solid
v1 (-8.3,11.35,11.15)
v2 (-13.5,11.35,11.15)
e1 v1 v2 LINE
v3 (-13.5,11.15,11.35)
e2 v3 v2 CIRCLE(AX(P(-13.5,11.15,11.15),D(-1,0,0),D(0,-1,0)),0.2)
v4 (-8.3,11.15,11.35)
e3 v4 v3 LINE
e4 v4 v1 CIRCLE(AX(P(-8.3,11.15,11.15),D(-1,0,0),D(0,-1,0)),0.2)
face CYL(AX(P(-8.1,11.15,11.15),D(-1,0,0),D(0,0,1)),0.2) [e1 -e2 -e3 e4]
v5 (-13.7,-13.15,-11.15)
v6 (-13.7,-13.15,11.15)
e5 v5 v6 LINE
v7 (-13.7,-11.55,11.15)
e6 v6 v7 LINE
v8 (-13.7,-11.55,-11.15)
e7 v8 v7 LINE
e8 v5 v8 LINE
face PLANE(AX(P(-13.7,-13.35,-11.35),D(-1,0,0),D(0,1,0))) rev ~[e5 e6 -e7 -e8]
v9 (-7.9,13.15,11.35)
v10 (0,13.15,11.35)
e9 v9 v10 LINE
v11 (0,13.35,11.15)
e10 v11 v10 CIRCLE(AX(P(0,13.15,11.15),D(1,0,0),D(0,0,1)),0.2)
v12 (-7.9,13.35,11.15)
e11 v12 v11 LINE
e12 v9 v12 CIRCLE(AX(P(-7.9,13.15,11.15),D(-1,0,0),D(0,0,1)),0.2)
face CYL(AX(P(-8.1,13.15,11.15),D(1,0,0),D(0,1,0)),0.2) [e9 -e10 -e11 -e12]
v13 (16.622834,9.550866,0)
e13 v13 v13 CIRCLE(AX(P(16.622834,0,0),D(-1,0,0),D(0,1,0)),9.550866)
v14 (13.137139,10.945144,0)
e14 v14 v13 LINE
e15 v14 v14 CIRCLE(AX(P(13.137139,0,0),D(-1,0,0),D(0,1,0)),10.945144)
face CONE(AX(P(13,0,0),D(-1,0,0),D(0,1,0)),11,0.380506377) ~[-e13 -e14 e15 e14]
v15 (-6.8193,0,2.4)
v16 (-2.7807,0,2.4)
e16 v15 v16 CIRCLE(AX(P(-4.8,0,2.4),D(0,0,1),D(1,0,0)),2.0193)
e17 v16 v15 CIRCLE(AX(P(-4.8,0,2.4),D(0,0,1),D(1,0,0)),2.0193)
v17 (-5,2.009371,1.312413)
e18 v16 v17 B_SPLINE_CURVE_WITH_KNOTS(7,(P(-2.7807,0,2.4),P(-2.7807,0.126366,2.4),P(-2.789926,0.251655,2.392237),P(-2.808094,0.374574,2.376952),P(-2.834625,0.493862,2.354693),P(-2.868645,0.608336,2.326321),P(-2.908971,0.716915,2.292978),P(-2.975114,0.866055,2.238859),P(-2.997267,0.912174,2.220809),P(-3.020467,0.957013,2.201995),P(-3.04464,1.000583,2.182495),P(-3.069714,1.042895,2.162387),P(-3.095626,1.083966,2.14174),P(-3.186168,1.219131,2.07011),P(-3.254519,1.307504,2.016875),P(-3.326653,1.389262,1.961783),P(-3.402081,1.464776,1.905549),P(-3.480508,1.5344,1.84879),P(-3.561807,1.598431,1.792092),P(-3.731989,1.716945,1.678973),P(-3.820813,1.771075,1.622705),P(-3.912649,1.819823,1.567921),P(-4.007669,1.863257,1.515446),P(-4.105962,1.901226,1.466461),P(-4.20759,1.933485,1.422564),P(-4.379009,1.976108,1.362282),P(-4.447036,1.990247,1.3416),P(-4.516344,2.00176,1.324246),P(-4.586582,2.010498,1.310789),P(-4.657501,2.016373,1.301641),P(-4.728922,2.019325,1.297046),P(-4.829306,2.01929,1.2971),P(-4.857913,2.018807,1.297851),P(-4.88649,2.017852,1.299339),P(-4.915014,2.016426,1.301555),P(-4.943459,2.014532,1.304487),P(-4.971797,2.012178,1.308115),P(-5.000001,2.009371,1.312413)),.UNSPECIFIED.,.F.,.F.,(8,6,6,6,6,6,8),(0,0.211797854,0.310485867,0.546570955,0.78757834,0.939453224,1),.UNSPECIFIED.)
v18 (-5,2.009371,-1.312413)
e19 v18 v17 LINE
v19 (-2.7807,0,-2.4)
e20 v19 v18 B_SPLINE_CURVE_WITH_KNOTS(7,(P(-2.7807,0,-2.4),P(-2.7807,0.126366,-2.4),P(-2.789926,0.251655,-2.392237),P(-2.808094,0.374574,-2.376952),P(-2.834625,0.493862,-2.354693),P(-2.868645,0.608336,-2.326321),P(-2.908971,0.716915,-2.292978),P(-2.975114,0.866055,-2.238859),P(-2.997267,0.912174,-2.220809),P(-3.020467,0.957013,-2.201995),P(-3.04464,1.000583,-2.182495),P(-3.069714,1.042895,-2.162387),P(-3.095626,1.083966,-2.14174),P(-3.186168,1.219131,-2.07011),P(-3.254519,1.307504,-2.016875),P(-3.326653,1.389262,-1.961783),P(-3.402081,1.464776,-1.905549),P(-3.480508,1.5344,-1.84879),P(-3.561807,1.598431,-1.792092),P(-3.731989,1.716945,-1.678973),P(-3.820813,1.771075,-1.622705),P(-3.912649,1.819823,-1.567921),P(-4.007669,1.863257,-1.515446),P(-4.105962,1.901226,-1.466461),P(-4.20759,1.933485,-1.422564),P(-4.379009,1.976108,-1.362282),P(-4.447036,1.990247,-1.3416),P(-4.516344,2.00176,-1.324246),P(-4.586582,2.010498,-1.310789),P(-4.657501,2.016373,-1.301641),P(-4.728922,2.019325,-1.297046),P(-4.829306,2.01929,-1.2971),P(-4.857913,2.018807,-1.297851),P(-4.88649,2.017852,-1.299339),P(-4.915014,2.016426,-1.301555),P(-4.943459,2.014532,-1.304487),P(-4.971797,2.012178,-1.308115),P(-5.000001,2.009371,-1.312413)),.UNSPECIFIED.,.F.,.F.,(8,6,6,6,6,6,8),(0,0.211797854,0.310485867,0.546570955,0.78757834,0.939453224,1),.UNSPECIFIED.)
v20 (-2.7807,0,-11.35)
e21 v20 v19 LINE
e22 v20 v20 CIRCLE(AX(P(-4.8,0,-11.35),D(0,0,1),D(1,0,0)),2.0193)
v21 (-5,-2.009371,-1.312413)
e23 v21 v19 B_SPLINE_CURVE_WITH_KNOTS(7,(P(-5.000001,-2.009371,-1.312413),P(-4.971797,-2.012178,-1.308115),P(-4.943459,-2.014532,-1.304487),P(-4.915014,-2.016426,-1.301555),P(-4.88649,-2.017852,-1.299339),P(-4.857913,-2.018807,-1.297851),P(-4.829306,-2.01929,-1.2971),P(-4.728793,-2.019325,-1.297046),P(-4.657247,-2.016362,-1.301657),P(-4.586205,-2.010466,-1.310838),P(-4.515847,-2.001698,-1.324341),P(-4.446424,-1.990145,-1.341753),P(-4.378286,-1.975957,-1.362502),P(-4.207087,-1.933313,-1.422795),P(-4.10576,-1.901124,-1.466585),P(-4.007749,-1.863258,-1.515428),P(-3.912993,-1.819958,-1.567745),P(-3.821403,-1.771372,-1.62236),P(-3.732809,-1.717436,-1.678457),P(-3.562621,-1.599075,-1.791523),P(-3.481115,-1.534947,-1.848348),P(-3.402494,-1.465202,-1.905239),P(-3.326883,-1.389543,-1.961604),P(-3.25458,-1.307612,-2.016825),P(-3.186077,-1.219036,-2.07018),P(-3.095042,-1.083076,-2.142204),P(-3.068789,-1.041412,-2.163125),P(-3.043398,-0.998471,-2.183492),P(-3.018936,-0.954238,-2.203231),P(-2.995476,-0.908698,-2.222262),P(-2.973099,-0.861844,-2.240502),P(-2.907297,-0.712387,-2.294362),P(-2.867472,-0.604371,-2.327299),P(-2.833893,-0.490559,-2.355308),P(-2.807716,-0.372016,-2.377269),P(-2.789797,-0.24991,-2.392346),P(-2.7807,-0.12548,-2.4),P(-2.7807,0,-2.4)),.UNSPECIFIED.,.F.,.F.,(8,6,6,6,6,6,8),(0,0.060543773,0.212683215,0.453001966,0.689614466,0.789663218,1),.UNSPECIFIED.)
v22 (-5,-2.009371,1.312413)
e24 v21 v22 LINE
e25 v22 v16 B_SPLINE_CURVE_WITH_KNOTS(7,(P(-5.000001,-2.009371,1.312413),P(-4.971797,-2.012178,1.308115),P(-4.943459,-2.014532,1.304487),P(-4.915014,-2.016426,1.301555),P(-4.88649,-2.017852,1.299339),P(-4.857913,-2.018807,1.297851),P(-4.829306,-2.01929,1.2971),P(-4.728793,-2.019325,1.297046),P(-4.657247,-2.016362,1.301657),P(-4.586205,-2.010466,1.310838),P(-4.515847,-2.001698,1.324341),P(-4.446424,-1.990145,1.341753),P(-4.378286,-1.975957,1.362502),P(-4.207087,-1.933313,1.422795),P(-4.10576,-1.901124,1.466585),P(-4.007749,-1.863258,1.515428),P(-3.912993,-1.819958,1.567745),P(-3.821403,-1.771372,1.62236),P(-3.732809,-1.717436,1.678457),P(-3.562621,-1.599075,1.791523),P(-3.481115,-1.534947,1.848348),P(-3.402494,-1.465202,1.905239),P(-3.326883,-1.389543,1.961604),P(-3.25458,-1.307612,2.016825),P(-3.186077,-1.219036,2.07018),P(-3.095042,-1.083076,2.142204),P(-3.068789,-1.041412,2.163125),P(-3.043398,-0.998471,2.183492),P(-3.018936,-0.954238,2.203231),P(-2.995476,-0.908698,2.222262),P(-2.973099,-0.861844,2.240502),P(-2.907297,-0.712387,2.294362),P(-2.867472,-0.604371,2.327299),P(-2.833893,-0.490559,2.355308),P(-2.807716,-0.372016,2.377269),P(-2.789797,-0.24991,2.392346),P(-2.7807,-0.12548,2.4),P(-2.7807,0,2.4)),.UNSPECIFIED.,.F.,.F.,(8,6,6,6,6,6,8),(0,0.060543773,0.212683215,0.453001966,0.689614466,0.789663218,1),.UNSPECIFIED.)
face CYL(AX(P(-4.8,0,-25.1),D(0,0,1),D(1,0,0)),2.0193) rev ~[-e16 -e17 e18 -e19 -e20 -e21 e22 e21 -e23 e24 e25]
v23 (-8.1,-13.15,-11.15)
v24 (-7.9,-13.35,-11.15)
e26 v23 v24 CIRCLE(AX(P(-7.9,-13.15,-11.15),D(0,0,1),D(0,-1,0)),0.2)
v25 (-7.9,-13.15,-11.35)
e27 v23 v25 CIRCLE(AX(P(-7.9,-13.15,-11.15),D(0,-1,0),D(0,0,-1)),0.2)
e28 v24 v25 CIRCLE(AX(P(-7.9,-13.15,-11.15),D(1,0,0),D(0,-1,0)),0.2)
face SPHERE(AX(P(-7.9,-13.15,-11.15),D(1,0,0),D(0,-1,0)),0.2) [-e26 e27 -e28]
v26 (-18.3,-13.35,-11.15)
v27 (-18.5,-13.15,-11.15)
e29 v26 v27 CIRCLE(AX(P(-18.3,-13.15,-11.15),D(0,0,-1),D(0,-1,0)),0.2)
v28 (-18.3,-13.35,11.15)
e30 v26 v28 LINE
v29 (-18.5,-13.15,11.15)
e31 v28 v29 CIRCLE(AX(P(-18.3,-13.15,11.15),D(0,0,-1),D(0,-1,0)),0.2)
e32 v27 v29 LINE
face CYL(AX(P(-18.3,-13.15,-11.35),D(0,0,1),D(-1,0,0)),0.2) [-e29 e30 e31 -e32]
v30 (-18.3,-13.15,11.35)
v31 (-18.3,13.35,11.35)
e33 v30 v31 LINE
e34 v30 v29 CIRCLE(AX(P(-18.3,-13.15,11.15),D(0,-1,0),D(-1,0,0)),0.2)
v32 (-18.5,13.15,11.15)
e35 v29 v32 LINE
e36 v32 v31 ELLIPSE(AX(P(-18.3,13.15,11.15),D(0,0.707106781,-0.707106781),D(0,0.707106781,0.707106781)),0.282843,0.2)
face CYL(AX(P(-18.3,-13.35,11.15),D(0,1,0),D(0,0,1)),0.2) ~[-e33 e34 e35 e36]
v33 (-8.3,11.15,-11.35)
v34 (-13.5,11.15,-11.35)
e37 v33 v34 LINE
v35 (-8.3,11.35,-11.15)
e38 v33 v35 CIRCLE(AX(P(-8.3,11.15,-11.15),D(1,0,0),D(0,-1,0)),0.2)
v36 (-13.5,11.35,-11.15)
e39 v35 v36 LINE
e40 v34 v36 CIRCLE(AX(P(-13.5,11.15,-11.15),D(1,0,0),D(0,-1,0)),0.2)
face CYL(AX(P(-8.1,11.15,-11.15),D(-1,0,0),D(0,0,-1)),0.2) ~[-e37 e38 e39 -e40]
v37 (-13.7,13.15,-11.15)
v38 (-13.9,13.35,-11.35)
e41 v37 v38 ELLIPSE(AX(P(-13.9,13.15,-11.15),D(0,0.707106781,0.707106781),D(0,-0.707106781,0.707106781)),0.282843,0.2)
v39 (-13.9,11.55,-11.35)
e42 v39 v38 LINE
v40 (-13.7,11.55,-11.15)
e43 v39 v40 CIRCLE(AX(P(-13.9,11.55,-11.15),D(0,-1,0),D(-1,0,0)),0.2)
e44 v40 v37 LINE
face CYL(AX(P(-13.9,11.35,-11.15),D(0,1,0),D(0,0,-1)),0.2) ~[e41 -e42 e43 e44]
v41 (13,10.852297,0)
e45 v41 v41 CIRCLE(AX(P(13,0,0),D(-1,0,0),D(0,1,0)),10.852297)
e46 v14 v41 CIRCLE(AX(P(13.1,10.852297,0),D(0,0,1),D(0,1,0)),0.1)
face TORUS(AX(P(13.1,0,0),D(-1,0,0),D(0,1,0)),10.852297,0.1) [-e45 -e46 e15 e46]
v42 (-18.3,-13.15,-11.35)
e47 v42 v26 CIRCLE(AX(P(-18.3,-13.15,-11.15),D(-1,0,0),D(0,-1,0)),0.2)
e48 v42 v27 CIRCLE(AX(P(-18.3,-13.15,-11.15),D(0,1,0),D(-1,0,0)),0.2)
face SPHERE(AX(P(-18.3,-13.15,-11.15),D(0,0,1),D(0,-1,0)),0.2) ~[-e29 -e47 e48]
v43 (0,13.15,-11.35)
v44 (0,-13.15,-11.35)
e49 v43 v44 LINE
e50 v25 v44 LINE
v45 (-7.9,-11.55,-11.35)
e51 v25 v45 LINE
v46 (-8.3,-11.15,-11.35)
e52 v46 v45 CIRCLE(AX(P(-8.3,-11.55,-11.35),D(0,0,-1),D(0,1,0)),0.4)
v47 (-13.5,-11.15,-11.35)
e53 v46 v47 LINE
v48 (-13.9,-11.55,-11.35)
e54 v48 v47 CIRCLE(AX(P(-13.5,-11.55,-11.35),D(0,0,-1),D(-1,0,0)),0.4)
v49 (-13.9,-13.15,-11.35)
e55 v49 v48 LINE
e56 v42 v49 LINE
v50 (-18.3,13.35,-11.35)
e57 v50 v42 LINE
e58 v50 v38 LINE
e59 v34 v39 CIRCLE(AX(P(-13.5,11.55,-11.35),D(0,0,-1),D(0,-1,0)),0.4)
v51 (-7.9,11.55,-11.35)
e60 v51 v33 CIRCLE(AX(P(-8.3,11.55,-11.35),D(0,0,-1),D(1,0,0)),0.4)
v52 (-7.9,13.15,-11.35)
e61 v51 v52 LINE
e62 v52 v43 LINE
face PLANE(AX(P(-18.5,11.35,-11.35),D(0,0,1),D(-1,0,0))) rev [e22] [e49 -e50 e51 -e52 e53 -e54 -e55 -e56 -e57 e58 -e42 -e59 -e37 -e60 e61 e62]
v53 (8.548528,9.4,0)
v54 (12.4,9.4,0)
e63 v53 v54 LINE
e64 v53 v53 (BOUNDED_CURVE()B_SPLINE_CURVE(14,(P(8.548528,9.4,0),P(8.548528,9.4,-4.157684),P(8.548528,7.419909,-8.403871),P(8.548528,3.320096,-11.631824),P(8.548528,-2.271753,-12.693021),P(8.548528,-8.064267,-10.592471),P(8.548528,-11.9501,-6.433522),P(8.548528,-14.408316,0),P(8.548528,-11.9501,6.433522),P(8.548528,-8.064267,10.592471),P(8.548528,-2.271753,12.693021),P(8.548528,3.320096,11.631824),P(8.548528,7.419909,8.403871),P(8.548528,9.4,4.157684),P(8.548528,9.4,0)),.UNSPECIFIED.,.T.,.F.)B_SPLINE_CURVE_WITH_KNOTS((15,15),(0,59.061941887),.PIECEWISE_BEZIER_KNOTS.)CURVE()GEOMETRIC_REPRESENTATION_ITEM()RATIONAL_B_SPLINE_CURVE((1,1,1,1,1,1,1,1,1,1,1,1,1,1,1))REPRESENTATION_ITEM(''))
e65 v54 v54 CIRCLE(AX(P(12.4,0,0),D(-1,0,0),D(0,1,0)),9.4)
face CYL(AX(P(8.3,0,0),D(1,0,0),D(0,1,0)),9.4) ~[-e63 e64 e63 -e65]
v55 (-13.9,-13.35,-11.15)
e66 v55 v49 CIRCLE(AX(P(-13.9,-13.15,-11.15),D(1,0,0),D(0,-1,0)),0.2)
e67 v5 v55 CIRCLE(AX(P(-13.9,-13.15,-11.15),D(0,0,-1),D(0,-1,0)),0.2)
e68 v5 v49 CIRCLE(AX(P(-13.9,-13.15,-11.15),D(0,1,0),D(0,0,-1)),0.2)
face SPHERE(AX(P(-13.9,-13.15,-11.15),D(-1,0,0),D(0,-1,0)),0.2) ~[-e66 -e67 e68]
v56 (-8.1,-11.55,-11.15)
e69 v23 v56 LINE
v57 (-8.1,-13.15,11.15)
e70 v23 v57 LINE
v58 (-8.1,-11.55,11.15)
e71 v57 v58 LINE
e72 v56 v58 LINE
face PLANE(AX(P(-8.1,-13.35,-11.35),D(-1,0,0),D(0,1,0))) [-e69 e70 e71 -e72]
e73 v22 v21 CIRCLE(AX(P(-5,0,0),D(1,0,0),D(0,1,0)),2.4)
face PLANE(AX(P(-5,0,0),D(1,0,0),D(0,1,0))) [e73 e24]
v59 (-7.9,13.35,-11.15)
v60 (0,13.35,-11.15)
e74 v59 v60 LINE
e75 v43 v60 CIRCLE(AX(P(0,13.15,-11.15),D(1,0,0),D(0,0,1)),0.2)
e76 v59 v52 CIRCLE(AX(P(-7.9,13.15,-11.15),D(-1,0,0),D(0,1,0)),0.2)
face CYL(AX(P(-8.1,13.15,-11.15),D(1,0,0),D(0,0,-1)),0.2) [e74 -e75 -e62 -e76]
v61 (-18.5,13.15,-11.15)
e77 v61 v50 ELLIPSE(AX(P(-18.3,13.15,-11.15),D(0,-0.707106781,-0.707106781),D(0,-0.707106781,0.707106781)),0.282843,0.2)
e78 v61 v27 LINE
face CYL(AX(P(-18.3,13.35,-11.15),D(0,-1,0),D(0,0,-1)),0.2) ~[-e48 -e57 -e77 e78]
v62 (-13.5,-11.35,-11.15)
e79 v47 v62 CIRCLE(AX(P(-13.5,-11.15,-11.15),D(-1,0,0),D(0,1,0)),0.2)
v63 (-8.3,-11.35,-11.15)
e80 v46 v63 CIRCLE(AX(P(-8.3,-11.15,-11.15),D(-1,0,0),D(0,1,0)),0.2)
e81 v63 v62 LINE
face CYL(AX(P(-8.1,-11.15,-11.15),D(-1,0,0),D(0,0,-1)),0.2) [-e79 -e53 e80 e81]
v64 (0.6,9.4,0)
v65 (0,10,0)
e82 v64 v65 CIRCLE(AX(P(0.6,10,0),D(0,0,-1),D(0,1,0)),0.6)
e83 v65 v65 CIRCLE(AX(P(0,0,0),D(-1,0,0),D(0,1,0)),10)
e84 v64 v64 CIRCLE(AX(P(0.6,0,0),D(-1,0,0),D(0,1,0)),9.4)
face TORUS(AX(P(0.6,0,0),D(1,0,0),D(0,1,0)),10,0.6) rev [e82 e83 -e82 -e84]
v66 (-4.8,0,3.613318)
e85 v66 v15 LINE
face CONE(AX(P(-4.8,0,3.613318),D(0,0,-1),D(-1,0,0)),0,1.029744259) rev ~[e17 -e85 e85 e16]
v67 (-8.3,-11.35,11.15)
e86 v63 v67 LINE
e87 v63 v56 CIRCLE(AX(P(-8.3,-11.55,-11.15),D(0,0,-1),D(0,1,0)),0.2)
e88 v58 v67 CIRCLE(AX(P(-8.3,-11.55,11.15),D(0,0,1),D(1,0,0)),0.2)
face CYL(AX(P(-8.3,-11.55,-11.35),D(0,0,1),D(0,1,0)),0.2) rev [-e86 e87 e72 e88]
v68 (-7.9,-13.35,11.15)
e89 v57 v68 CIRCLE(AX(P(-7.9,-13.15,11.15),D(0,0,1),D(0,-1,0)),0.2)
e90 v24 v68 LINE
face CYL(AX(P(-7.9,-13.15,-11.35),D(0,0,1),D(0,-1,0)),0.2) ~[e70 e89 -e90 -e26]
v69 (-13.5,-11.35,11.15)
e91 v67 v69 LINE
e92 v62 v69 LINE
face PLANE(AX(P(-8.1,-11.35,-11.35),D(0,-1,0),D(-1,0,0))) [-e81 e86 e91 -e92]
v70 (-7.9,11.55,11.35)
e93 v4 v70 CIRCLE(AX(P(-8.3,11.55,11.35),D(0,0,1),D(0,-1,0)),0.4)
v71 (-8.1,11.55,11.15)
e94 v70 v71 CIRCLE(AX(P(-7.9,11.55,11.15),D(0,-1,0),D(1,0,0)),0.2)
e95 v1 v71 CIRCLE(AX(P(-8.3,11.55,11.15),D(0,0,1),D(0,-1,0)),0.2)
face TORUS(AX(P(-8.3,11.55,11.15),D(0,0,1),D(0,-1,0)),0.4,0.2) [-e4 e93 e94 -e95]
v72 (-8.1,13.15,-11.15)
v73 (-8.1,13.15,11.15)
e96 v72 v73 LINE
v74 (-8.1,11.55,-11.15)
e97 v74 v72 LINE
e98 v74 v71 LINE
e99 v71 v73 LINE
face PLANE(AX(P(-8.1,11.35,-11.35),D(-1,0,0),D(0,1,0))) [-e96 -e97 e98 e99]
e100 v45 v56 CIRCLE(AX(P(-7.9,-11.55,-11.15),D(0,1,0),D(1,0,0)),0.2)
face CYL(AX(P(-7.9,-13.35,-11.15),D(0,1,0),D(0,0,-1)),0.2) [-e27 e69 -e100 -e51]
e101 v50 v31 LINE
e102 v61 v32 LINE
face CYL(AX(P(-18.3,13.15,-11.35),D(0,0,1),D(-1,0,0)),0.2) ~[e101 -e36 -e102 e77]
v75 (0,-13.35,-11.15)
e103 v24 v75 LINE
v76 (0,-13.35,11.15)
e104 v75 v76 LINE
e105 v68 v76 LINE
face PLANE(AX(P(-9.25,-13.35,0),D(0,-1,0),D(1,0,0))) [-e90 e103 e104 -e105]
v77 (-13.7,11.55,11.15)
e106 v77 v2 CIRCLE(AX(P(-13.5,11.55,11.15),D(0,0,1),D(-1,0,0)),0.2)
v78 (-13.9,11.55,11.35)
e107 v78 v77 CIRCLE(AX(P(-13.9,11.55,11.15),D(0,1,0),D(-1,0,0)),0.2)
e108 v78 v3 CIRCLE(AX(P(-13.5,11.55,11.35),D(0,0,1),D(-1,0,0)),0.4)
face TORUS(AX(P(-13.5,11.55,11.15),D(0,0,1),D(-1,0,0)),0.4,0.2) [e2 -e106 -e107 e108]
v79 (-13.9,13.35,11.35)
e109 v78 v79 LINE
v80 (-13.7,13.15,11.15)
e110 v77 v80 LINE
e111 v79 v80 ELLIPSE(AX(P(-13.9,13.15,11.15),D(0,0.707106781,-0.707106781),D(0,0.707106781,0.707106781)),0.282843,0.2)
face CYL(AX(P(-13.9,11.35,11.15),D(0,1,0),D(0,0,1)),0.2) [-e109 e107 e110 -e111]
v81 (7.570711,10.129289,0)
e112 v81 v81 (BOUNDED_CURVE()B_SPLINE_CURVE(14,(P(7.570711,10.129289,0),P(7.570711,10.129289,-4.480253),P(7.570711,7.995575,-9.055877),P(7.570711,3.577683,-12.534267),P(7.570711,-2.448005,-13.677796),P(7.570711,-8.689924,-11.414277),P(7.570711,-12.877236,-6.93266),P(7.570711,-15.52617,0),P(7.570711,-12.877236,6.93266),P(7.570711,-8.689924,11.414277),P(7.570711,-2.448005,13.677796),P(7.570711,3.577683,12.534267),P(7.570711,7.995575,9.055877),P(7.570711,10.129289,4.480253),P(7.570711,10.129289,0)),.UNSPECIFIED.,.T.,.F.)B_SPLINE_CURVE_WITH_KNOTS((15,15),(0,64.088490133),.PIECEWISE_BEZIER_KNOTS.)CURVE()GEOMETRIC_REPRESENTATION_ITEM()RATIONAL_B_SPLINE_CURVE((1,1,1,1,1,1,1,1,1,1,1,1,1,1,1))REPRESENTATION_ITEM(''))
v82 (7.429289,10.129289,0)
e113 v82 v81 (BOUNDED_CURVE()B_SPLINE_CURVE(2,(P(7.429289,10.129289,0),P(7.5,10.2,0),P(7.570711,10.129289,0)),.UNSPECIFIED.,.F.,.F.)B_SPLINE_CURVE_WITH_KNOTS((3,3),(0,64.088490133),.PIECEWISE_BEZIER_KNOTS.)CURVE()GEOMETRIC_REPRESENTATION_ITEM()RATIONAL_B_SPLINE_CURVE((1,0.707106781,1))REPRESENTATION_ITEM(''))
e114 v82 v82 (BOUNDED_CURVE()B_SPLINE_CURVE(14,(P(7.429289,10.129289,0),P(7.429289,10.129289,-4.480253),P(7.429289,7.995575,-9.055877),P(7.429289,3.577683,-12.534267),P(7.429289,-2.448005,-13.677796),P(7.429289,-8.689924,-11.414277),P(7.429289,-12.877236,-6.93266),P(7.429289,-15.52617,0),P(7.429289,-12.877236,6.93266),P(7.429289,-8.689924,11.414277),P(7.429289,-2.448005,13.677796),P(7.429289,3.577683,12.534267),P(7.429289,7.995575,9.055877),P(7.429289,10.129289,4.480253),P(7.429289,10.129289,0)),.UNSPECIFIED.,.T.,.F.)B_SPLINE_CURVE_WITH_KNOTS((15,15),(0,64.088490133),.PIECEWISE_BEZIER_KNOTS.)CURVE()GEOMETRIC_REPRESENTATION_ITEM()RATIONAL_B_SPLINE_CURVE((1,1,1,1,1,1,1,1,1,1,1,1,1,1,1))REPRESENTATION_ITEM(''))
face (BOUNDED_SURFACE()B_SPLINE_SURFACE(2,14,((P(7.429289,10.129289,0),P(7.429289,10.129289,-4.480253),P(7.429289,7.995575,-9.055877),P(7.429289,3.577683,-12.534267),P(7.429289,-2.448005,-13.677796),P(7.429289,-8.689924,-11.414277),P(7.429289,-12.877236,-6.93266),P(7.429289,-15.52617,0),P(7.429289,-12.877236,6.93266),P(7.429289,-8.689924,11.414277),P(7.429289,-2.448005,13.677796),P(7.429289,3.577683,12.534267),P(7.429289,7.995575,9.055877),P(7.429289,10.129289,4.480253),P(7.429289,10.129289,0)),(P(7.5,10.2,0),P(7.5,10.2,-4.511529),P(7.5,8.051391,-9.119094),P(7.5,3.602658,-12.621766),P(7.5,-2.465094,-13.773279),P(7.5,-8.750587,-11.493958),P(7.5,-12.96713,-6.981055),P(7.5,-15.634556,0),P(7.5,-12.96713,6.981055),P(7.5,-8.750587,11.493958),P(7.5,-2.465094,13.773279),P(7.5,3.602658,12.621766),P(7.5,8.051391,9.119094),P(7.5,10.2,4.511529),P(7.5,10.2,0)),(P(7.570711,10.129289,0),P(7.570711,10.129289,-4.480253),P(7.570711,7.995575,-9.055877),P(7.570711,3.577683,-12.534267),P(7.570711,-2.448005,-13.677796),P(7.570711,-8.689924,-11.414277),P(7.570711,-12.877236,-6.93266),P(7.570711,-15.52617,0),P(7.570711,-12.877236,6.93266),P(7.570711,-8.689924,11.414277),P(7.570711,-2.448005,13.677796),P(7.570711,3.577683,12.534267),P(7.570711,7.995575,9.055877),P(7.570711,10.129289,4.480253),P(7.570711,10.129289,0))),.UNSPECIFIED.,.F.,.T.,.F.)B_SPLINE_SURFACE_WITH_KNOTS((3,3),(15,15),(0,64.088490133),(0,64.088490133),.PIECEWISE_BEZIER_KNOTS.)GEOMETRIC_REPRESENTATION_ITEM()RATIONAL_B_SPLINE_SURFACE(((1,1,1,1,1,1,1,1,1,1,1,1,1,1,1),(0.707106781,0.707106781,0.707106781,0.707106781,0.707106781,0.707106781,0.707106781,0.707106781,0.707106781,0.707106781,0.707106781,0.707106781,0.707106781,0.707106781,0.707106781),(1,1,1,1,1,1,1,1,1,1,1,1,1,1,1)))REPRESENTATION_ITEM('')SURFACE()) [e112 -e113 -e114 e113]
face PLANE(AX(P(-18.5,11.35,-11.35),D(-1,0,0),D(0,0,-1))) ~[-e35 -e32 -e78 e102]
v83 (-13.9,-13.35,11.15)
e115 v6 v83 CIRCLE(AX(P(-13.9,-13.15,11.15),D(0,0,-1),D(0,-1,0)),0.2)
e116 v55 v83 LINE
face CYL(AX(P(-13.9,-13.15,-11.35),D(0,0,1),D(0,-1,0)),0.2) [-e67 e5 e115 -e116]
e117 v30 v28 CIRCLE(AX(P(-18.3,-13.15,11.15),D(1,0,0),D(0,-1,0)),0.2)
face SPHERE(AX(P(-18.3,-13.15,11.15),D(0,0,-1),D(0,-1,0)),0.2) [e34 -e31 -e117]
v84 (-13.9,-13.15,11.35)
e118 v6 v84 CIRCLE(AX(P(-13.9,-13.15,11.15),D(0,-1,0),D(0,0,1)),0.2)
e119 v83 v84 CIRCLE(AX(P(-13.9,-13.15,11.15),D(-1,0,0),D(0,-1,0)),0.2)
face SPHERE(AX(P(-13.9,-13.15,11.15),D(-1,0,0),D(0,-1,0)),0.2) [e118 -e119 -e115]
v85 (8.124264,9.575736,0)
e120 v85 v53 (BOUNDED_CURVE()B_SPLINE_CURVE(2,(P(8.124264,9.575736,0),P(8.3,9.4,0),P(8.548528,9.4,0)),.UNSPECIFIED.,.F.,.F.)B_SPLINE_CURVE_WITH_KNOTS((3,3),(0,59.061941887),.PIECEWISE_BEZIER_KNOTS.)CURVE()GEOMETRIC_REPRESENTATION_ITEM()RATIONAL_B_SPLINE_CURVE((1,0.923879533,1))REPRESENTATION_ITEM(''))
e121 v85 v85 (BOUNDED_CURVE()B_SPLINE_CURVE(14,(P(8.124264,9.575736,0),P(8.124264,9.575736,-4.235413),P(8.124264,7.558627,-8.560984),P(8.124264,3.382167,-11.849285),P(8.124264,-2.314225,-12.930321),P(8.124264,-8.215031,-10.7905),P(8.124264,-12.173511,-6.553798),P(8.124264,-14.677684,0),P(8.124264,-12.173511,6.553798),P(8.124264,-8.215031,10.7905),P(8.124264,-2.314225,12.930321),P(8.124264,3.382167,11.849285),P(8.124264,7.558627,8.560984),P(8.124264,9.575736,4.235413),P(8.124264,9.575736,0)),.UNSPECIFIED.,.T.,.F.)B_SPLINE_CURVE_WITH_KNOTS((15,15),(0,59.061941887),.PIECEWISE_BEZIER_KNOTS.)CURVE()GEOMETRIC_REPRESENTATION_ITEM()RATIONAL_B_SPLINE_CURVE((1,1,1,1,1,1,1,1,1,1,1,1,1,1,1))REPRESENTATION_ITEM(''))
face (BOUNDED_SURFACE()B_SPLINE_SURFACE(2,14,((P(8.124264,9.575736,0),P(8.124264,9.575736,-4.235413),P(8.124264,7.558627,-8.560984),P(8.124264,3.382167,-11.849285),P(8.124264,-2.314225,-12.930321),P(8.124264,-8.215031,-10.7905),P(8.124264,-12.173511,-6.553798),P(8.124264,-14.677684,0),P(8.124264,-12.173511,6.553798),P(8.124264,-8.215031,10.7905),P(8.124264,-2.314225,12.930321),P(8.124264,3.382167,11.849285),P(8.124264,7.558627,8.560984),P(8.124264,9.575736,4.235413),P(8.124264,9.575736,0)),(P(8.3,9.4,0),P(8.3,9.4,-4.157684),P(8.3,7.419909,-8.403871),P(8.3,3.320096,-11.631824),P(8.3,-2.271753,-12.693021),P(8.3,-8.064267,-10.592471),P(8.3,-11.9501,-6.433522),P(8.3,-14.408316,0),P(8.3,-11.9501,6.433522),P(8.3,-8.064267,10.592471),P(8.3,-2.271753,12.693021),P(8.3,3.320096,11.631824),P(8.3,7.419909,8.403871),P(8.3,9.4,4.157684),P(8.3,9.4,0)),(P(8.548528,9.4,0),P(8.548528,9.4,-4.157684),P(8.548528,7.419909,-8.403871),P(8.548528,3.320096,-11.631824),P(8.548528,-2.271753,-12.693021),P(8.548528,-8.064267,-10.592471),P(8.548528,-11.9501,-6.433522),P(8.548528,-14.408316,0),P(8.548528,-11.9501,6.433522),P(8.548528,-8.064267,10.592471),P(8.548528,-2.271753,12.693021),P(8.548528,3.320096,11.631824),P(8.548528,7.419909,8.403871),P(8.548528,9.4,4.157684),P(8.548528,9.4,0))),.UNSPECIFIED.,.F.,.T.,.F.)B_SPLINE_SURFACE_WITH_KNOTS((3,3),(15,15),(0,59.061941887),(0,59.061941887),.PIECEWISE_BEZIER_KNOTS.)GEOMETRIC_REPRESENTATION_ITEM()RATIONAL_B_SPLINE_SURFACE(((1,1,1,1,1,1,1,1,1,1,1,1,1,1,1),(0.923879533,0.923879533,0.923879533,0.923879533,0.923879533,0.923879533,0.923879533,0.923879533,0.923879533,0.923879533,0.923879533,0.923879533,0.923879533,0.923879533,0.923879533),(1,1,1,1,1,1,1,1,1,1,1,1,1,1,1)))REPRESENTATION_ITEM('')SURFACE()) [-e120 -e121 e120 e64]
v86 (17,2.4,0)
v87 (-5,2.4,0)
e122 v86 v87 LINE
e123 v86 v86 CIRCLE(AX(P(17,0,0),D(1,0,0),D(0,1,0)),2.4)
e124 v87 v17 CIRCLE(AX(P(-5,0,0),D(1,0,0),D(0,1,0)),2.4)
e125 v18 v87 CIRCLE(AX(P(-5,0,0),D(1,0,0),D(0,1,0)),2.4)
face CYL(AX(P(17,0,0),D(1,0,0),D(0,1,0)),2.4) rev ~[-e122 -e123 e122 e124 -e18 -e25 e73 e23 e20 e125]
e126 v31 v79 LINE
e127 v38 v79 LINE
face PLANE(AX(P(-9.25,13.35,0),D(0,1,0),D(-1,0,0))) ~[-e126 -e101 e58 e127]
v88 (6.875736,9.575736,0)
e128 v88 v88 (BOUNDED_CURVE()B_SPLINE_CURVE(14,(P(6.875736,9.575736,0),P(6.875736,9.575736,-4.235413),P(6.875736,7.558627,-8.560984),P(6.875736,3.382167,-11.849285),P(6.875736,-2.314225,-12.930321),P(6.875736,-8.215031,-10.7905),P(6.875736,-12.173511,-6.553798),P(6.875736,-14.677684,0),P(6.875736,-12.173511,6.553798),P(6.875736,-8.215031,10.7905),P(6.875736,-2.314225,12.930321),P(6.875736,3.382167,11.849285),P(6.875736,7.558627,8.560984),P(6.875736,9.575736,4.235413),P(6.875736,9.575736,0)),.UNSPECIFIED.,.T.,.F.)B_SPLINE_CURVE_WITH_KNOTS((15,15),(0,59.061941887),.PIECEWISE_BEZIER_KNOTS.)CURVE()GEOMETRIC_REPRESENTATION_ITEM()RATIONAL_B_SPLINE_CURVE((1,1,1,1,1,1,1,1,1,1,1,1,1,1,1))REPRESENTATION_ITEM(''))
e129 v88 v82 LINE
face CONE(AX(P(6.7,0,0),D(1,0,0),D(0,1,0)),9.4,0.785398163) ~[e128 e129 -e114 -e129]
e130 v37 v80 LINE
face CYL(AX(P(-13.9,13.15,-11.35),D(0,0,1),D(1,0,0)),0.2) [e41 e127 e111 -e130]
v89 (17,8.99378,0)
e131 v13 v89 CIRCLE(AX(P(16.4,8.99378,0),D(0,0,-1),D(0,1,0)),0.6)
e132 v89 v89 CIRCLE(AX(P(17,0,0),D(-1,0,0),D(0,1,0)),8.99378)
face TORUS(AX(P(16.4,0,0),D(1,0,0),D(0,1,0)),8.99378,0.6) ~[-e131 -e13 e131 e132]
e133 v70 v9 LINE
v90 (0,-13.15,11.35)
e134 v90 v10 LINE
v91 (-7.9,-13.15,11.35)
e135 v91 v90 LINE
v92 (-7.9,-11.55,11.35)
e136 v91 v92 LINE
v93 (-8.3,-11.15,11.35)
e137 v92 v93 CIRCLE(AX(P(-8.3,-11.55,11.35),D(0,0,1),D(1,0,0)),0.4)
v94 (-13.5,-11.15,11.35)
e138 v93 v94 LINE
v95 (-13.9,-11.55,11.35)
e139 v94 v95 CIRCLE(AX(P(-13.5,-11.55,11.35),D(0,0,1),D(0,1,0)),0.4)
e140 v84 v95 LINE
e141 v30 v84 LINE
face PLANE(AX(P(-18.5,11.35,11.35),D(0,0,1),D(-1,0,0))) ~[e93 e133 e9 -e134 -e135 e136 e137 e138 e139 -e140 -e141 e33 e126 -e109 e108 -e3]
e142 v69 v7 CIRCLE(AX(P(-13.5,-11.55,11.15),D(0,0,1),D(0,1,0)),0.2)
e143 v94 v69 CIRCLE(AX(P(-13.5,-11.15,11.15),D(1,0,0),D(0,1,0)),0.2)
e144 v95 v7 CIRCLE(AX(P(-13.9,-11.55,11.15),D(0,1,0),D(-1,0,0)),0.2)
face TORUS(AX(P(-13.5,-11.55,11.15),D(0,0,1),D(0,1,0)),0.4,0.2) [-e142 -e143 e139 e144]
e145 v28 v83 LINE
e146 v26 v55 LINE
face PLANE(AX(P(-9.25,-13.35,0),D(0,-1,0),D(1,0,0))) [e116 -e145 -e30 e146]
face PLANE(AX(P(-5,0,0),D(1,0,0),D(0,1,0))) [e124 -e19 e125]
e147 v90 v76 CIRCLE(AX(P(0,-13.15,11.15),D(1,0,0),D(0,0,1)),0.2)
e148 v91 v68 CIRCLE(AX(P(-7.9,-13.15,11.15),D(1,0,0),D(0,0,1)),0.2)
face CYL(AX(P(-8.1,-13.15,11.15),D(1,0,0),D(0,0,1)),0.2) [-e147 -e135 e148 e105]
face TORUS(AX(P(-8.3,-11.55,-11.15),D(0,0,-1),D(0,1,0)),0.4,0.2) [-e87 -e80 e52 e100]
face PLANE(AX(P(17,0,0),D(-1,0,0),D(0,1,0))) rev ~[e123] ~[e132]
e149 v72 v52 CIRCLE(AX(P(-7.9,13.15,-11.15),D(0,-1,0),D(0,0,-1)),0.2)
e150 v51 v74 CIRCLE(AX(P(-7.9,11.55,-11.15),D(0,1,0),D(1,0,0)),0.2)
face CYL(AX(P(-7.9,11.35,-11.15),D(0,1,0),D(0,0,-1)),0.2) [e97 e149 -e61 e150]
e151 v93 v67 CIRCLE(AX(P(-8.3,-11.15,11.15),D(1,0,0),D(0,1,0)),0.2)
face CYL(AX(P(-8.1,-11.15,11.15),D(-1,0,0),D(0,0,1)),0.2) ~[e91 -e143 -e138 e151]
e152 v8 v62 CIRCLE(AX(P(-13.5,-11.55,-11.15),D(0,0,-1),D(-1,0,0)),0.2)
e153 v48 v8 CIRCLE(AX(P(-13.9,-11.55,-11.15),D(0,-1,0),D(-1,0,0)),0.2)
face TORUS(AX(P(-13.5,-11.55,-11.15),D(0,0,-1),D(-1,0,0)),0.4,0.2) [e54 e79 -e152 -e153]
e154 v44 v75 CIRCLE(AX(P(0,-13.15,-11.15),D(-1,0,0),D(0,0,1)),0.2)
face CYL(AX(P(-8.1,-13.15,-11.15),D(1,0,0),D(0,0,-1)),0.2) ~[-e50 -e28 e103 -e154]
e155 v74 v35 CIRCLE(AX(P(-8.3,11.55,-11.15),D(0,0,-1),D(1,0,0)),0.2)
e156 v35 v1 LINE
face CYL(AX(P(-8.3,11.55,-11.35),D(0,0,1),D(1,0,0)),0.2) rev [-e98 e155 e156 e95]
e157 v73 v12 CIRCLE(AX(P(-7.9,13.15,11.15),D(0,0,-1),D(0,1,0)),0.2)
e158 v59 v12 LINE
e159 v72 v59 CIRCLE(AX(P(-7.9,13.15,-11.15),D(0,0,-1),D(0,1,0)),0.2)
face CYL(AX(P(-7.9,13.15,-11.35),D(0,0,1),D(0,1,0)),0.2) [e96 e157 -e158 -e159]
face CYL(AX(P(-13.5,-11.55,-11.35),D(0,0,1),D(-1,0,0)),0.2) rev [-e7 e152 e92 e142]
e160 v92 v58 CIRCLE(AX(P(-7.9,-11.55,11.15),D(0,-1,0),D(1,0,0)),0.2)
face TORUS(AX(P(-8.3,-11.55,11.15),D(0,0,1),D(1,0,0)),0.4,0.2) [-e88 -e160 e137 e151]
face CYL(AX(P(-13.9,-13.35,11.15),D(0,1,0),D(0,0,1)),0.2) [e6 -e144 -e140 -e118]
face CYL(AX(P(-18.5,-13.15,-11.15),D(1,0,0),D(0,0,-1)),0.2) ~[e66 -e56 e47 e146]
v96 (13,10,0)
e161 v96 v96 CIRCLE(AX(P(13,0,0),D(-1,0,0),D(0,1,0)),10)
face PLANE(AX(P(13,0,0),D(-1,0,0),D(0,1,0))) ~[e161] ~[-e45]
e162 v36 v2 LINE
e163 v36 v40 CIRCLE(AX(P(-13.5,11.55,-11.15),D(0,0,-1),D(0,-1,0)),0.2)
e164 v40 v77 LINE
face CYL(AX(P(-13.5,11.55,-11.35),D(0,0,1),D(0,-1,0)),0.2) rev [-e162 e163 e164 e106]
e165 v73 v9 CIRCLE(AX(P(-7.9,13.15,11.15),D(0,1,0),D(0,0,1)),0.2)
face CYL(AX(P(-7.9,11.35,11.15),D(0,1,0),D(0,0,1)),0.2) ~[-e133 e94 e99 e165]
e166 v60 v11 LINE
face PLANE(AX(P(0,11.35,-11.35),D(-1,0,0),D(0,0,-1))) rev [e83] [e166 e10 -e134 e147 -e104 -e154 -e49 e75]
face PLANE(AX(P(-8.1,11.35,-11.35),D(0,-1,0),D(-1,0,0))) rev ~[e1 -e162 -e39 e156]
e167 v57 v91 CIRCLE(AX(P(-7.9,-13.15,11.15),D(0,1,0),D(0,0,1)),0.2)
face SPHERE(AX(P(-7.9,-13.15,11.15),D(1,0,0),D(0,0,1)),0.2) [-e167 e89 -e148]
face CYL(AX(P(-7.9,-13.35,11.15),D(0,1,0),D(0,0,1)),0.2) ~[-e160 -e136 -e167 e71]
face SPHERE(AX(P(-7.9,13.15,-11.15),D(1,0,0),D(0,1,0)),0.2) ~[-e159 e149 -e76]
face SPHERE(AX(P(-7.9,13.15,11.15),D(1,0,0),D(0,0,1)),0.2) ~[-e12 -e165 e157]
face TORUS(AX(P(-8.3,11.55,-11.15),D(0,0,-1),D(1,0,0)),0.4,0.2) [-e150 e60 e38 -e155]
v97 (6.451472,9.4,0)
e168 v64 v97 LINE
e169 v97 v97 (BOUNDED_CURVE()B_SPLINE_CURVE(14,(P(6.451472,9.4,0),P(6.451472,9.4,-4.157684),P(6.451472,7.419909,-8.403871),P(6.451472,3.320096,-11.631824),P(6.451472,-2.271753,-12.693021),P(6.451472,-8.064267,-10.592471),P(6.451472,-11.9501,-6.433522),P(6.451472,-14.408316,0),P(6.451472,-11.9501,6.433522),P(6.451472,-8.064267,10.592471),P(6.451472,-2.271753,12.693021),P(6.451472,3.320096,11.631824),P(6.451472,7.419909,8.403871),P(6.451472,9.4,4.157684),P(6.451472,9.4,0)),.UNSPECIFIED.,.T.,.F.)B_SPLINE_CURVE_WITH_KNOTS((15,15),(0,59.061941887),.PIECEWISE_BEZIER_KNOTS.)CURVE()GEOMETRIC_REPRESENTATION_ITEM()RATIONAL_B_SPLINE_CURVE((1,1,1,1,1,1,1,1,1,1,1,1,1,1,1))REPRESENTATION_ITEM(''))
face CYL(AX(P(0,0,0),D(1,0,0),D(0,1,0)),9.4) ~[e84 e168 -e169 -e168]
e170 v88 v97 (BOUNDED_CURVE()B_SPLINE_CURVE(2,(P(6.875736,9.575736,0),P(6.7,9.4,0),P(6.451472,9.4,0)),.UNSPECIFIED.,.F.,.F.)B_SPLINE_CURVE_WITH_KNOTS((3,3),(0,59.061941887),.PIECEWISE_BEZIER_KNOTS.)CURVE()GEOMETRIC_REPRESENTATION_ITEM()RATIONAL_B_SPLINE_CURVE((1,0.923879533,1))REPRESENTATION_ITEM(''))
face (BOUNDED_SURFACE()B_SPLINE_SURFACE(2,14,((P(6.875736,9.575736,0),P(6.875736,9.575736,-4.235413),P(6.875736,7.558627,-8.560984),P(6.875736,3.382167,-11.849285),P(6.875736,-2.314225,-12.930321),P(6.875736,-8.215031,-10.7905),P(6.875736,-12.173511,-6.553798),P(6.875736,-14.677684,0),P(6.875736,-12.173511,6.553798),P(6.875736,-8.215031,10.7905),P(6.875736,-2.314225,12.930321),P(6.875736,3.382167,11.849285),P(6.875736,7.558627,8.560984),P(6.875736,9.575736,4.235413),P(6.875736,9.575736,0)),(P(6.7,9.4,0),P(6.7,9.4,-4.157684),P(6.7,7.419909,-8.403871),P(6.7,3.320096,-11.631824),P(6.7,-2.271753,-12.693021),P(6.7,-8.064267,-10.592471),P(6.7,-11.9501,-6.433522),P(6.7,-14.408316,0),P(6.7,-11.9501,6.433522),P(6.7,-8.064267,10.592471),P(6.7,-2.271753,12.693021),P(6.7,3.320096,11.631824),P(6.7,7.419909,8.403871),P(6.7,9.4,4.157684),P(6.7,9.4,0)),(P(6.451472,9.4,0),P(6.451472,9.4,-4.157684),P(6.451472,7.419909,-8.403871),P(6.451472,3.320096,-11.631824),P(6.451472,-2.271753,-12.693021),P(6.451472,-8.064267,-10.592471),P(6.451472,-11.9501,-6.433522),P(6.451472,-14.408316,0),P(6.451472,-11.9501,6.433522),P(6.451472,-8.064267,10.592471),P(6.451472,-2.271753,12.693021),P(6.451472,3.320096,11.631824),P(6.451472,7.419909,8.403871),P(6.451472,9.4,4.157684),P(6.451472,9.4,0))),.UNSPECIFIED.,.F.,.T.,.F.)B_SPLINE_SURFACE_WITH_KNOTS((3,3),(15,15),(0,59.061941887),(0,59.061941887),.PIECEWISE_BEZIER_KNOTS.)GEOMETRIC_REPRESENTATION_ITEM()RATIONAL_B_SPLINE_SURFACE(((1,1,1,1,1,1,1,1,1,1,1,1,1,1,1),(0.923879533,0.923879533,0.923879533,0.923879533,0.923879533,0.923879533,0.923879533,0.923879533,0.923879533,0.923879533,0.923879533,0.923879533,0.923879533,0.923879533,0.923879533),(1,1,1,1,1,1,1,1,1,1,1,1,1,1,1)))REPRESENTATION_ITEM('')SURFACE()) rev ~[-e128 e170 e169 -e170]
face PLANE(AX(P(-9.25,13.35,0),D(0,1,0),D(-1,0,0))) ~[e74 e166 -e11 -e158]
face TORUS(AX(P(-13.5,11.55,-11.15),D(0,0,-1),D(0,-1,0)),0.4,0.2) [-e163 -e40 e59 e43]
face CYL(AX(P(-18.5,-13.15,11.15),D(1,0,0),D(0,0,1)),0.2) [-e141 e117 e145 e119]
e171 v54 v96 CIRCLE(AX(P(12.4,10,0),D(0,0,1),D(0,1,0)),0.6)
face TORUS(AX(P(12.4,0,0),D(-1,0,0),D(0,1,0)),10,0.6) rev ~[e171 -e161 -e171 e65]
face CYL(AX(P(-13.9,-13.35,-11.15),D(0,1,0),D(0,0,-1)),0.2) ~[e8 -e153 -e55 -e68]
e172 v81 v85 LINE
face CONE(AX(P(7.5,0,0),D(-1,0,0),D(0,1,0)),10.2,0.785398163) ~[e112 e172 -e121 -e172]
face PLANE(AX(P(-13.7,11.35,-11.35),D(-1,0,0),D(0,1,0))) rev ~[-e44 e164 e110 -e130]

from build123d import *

# Parameters (mm, degrees)
SKETCH2_W                  = 18.5
SKETCH2_H                  = 22.7
SKETCH2_R                  = 3.175
BOSS_EXTRUDE2_DEPTH        = 11.35
F_10_32_TAPPED_HOLE1_D     = 4.0386
F_10_32_TAPPED_HOLE1_DEPTH = 13.75
F_10_32_TAPPED_HOLE1_TIP   = 1.213317848
SKETCH18_R                 = 2.4
CUT_EXTRUDE2_DEPTH         = 22
SKETCH12_R                 = 3.175
BOSS_EXTRUDE3_DEPTH        = 22.7
SKETCH13_W                 = 18.5
SKETCH13_H                 = 22.7
BOSS_EXTRUDE4_DEPTH        = 2
SKETCH15_W                 = 5.6
SKETCH15_H                 = 2
CUT_EXTRUDE1_DEPTH         = 33.183264284
FILLET1_R                  = 0.1
FILLET2_R                  = 0.6
FILLET5_R                  = 0.2


with BuildPart() as part:
    # Sketch2 → Boss-Extrude2 (new, symmetric)
    with BuildSketch(Plane(origin=(0, 0, 0), x_dir=(1, 0, 0), z_dir=(0, 1, 0))):
        with Locations((-9.25, 0)):
            Rectangle(SKETCH2_W, SKETCH2_H)
        with Locations(Location((-12.7, 0, 0), (0, 0, 270))):
            Circle(SKETCH2_R, mode=Mode.SUBTRACT)
    extrude(amount=BOSS_EXTRUDE2_DEPTH, both=True)

    # #10-32 Tapped Hole1
    with Locations(Plane(origin=(0, 0, -11.35), x_dir=(-1, 0, 0), z_dir=(0, 0, -1))):
        with Locations((4.8, 0)):
            Hole(F_10_32_TAPPED_HOLE1_D / 2, depth=F_10_32_TAPPED_HOLE1_DEPTH)
            with Locations((0, 0, -(F_10_32_TAPPED_HOLE1_DEPTH + F_10_32_TAPPED_HOLE1_TIP / 2))):  # 118° drill point
                Cone(0, F_10_32_TAPPED_HOLE1_D / 2, F_10_32_TAPPED_HOLE1_TIP, mode=Mode.SUBTRACT)

    # Sketch3 → Revolve1 (revolve)
    with BuildSketch(Plane.XY):
        Polygon((0, 0), (0, 9.4), (6.7, 9.4), (7.5, 10.2), (8.3, 9.4), (13, 9.4), (13, 11), (17, 9.4), (17, 0), align=None)
    revolve(axis=Axis((17, 0, 0), (-1, 0, 0)))

    # Sketch18 → Cut-Extrude2 (cut)
    with BuildSketch(Plane(origin=(17, 0, 0), x_dir=(0, 0, -1), z_dir=(1, 0, 0))):
        with Locations(Location((0, 0, 0), (0, 0, 90))):
            Circle(SKETCH18_R)
    extrude(amount=-CUT_EXTRUDE2_DEPTH, mode=Mode.SUBTRACT)

    # Sketch12 → Boss-Extrude3 (add)
    with BuildSketch(Plane.XZ.offset(11.35)):
        with Locations((-12.7, 0)):
            Circle(SKETCH12_R)
    extrude(amount=-BOSS_EXTRUDE3_DEPTH)

    # Sketch13 → Boss-Extrude4 (add)
    with BuildSketch(Plane.XZ.offset(11.35)):
        with Locations((-9.25, 0)):
            Rectangle(SKETCH13_W, SKETCH13_H)
    boss_extrude4 = extrude(amount=BOSS_EXTRUDE4_DEPTH)

    # Mirror1: Boss-Extrude4 across plane
    add(boss_extrude4.mirror(Plane.ZX))

    # Sketch15 → Cut-Extrude1 (cut, through all)
    with BuildSketch(Plane(origin=(0, 0, -11.35), x_dir=(-1, 0, 0), z_dir=(0, 0, -1))):
        with Locations((10.9, 12.35)):
            Rectangle(SKETCH15_W, SKETCH15_H)
        with Locations((10.9, -12.35)):
            Rectangle(SKETCH15_W, SKETCH15_H)
    extrude(amount=-CUT_EXTRUDE1_DEPTH, mode=Mode.SUBTRACT)

    # Fillet1
    fillet1_edges = [part.edges().sort_by_distance(p)[0] for p in [
        (13, -11, 0),
        (7.5, -10.2, 0),
    ]]
    fillet(fillet1_edges, radius=FILLET1_R)

    # Fillet2
    fillet2_edges = [part.edges().sort_by_distance(p)[0] for p in [
        (0, -9.4, 0),
        (8.3, -9.4, 0),
        (13, -9.4, 0),
        (17, -9.4, 0),
        (6.7, -9.4, 0),
    ]]
    fillet(fillet2_edges, radius=FILLET2_R)

    # Fillet5
    fillet5_edges = [part.edges().sort_by_distance(p)[0] for p in [
        (-4.05, -13.35, 11.35),
        (-18.5, -13.35, 0),
        (-16.1, -13.35, -11.35),
        (-18.5, 13.35, 0),
        (-4.05, 13.35, 11.35),
        (-4.05, 13.35, -11.35),
        (-16.1, -13.35, 11.35),
        (-4.05, -13.35, -11.35),
        (-18.5, 0, 11.35),
        (-18.5, 0, -11.35),
        (-8.1, 12.35, 11.35),
        (-8.1, 11.35, 0),
        (-8.1, 13.35, 0),
        (-13.7, 12.35, 11.35),
        (-13.7, 13.35, 0),
        (-10.9, 11.35, 11.35),
        (-13.7, 11.35, 0),
        (-8.1, 12.35, -11.35),
        (-10.9, 11.35, -11.35),
        (-13.7, 12.35, -11.35),
        (-13.7, -13.35, 0),
        (-8.1, -12.35, 11.35),
        (-8.1, -13.35, 0),
        (-10.9, -11.35, 11.35),
        (-8.1, -11.35, 0),
        (-13.7, -12.35, 11.35),
        (-13.7, -11.35, 0),
        (-13.7, -12.35, -11.35),
        (-10.9, -11.35, -11.35),
        (-8.1, -12.35, -11.35),
    ]]
    fillet(fillet5_edges, radius=FILLET5_R)


solid = part.part
